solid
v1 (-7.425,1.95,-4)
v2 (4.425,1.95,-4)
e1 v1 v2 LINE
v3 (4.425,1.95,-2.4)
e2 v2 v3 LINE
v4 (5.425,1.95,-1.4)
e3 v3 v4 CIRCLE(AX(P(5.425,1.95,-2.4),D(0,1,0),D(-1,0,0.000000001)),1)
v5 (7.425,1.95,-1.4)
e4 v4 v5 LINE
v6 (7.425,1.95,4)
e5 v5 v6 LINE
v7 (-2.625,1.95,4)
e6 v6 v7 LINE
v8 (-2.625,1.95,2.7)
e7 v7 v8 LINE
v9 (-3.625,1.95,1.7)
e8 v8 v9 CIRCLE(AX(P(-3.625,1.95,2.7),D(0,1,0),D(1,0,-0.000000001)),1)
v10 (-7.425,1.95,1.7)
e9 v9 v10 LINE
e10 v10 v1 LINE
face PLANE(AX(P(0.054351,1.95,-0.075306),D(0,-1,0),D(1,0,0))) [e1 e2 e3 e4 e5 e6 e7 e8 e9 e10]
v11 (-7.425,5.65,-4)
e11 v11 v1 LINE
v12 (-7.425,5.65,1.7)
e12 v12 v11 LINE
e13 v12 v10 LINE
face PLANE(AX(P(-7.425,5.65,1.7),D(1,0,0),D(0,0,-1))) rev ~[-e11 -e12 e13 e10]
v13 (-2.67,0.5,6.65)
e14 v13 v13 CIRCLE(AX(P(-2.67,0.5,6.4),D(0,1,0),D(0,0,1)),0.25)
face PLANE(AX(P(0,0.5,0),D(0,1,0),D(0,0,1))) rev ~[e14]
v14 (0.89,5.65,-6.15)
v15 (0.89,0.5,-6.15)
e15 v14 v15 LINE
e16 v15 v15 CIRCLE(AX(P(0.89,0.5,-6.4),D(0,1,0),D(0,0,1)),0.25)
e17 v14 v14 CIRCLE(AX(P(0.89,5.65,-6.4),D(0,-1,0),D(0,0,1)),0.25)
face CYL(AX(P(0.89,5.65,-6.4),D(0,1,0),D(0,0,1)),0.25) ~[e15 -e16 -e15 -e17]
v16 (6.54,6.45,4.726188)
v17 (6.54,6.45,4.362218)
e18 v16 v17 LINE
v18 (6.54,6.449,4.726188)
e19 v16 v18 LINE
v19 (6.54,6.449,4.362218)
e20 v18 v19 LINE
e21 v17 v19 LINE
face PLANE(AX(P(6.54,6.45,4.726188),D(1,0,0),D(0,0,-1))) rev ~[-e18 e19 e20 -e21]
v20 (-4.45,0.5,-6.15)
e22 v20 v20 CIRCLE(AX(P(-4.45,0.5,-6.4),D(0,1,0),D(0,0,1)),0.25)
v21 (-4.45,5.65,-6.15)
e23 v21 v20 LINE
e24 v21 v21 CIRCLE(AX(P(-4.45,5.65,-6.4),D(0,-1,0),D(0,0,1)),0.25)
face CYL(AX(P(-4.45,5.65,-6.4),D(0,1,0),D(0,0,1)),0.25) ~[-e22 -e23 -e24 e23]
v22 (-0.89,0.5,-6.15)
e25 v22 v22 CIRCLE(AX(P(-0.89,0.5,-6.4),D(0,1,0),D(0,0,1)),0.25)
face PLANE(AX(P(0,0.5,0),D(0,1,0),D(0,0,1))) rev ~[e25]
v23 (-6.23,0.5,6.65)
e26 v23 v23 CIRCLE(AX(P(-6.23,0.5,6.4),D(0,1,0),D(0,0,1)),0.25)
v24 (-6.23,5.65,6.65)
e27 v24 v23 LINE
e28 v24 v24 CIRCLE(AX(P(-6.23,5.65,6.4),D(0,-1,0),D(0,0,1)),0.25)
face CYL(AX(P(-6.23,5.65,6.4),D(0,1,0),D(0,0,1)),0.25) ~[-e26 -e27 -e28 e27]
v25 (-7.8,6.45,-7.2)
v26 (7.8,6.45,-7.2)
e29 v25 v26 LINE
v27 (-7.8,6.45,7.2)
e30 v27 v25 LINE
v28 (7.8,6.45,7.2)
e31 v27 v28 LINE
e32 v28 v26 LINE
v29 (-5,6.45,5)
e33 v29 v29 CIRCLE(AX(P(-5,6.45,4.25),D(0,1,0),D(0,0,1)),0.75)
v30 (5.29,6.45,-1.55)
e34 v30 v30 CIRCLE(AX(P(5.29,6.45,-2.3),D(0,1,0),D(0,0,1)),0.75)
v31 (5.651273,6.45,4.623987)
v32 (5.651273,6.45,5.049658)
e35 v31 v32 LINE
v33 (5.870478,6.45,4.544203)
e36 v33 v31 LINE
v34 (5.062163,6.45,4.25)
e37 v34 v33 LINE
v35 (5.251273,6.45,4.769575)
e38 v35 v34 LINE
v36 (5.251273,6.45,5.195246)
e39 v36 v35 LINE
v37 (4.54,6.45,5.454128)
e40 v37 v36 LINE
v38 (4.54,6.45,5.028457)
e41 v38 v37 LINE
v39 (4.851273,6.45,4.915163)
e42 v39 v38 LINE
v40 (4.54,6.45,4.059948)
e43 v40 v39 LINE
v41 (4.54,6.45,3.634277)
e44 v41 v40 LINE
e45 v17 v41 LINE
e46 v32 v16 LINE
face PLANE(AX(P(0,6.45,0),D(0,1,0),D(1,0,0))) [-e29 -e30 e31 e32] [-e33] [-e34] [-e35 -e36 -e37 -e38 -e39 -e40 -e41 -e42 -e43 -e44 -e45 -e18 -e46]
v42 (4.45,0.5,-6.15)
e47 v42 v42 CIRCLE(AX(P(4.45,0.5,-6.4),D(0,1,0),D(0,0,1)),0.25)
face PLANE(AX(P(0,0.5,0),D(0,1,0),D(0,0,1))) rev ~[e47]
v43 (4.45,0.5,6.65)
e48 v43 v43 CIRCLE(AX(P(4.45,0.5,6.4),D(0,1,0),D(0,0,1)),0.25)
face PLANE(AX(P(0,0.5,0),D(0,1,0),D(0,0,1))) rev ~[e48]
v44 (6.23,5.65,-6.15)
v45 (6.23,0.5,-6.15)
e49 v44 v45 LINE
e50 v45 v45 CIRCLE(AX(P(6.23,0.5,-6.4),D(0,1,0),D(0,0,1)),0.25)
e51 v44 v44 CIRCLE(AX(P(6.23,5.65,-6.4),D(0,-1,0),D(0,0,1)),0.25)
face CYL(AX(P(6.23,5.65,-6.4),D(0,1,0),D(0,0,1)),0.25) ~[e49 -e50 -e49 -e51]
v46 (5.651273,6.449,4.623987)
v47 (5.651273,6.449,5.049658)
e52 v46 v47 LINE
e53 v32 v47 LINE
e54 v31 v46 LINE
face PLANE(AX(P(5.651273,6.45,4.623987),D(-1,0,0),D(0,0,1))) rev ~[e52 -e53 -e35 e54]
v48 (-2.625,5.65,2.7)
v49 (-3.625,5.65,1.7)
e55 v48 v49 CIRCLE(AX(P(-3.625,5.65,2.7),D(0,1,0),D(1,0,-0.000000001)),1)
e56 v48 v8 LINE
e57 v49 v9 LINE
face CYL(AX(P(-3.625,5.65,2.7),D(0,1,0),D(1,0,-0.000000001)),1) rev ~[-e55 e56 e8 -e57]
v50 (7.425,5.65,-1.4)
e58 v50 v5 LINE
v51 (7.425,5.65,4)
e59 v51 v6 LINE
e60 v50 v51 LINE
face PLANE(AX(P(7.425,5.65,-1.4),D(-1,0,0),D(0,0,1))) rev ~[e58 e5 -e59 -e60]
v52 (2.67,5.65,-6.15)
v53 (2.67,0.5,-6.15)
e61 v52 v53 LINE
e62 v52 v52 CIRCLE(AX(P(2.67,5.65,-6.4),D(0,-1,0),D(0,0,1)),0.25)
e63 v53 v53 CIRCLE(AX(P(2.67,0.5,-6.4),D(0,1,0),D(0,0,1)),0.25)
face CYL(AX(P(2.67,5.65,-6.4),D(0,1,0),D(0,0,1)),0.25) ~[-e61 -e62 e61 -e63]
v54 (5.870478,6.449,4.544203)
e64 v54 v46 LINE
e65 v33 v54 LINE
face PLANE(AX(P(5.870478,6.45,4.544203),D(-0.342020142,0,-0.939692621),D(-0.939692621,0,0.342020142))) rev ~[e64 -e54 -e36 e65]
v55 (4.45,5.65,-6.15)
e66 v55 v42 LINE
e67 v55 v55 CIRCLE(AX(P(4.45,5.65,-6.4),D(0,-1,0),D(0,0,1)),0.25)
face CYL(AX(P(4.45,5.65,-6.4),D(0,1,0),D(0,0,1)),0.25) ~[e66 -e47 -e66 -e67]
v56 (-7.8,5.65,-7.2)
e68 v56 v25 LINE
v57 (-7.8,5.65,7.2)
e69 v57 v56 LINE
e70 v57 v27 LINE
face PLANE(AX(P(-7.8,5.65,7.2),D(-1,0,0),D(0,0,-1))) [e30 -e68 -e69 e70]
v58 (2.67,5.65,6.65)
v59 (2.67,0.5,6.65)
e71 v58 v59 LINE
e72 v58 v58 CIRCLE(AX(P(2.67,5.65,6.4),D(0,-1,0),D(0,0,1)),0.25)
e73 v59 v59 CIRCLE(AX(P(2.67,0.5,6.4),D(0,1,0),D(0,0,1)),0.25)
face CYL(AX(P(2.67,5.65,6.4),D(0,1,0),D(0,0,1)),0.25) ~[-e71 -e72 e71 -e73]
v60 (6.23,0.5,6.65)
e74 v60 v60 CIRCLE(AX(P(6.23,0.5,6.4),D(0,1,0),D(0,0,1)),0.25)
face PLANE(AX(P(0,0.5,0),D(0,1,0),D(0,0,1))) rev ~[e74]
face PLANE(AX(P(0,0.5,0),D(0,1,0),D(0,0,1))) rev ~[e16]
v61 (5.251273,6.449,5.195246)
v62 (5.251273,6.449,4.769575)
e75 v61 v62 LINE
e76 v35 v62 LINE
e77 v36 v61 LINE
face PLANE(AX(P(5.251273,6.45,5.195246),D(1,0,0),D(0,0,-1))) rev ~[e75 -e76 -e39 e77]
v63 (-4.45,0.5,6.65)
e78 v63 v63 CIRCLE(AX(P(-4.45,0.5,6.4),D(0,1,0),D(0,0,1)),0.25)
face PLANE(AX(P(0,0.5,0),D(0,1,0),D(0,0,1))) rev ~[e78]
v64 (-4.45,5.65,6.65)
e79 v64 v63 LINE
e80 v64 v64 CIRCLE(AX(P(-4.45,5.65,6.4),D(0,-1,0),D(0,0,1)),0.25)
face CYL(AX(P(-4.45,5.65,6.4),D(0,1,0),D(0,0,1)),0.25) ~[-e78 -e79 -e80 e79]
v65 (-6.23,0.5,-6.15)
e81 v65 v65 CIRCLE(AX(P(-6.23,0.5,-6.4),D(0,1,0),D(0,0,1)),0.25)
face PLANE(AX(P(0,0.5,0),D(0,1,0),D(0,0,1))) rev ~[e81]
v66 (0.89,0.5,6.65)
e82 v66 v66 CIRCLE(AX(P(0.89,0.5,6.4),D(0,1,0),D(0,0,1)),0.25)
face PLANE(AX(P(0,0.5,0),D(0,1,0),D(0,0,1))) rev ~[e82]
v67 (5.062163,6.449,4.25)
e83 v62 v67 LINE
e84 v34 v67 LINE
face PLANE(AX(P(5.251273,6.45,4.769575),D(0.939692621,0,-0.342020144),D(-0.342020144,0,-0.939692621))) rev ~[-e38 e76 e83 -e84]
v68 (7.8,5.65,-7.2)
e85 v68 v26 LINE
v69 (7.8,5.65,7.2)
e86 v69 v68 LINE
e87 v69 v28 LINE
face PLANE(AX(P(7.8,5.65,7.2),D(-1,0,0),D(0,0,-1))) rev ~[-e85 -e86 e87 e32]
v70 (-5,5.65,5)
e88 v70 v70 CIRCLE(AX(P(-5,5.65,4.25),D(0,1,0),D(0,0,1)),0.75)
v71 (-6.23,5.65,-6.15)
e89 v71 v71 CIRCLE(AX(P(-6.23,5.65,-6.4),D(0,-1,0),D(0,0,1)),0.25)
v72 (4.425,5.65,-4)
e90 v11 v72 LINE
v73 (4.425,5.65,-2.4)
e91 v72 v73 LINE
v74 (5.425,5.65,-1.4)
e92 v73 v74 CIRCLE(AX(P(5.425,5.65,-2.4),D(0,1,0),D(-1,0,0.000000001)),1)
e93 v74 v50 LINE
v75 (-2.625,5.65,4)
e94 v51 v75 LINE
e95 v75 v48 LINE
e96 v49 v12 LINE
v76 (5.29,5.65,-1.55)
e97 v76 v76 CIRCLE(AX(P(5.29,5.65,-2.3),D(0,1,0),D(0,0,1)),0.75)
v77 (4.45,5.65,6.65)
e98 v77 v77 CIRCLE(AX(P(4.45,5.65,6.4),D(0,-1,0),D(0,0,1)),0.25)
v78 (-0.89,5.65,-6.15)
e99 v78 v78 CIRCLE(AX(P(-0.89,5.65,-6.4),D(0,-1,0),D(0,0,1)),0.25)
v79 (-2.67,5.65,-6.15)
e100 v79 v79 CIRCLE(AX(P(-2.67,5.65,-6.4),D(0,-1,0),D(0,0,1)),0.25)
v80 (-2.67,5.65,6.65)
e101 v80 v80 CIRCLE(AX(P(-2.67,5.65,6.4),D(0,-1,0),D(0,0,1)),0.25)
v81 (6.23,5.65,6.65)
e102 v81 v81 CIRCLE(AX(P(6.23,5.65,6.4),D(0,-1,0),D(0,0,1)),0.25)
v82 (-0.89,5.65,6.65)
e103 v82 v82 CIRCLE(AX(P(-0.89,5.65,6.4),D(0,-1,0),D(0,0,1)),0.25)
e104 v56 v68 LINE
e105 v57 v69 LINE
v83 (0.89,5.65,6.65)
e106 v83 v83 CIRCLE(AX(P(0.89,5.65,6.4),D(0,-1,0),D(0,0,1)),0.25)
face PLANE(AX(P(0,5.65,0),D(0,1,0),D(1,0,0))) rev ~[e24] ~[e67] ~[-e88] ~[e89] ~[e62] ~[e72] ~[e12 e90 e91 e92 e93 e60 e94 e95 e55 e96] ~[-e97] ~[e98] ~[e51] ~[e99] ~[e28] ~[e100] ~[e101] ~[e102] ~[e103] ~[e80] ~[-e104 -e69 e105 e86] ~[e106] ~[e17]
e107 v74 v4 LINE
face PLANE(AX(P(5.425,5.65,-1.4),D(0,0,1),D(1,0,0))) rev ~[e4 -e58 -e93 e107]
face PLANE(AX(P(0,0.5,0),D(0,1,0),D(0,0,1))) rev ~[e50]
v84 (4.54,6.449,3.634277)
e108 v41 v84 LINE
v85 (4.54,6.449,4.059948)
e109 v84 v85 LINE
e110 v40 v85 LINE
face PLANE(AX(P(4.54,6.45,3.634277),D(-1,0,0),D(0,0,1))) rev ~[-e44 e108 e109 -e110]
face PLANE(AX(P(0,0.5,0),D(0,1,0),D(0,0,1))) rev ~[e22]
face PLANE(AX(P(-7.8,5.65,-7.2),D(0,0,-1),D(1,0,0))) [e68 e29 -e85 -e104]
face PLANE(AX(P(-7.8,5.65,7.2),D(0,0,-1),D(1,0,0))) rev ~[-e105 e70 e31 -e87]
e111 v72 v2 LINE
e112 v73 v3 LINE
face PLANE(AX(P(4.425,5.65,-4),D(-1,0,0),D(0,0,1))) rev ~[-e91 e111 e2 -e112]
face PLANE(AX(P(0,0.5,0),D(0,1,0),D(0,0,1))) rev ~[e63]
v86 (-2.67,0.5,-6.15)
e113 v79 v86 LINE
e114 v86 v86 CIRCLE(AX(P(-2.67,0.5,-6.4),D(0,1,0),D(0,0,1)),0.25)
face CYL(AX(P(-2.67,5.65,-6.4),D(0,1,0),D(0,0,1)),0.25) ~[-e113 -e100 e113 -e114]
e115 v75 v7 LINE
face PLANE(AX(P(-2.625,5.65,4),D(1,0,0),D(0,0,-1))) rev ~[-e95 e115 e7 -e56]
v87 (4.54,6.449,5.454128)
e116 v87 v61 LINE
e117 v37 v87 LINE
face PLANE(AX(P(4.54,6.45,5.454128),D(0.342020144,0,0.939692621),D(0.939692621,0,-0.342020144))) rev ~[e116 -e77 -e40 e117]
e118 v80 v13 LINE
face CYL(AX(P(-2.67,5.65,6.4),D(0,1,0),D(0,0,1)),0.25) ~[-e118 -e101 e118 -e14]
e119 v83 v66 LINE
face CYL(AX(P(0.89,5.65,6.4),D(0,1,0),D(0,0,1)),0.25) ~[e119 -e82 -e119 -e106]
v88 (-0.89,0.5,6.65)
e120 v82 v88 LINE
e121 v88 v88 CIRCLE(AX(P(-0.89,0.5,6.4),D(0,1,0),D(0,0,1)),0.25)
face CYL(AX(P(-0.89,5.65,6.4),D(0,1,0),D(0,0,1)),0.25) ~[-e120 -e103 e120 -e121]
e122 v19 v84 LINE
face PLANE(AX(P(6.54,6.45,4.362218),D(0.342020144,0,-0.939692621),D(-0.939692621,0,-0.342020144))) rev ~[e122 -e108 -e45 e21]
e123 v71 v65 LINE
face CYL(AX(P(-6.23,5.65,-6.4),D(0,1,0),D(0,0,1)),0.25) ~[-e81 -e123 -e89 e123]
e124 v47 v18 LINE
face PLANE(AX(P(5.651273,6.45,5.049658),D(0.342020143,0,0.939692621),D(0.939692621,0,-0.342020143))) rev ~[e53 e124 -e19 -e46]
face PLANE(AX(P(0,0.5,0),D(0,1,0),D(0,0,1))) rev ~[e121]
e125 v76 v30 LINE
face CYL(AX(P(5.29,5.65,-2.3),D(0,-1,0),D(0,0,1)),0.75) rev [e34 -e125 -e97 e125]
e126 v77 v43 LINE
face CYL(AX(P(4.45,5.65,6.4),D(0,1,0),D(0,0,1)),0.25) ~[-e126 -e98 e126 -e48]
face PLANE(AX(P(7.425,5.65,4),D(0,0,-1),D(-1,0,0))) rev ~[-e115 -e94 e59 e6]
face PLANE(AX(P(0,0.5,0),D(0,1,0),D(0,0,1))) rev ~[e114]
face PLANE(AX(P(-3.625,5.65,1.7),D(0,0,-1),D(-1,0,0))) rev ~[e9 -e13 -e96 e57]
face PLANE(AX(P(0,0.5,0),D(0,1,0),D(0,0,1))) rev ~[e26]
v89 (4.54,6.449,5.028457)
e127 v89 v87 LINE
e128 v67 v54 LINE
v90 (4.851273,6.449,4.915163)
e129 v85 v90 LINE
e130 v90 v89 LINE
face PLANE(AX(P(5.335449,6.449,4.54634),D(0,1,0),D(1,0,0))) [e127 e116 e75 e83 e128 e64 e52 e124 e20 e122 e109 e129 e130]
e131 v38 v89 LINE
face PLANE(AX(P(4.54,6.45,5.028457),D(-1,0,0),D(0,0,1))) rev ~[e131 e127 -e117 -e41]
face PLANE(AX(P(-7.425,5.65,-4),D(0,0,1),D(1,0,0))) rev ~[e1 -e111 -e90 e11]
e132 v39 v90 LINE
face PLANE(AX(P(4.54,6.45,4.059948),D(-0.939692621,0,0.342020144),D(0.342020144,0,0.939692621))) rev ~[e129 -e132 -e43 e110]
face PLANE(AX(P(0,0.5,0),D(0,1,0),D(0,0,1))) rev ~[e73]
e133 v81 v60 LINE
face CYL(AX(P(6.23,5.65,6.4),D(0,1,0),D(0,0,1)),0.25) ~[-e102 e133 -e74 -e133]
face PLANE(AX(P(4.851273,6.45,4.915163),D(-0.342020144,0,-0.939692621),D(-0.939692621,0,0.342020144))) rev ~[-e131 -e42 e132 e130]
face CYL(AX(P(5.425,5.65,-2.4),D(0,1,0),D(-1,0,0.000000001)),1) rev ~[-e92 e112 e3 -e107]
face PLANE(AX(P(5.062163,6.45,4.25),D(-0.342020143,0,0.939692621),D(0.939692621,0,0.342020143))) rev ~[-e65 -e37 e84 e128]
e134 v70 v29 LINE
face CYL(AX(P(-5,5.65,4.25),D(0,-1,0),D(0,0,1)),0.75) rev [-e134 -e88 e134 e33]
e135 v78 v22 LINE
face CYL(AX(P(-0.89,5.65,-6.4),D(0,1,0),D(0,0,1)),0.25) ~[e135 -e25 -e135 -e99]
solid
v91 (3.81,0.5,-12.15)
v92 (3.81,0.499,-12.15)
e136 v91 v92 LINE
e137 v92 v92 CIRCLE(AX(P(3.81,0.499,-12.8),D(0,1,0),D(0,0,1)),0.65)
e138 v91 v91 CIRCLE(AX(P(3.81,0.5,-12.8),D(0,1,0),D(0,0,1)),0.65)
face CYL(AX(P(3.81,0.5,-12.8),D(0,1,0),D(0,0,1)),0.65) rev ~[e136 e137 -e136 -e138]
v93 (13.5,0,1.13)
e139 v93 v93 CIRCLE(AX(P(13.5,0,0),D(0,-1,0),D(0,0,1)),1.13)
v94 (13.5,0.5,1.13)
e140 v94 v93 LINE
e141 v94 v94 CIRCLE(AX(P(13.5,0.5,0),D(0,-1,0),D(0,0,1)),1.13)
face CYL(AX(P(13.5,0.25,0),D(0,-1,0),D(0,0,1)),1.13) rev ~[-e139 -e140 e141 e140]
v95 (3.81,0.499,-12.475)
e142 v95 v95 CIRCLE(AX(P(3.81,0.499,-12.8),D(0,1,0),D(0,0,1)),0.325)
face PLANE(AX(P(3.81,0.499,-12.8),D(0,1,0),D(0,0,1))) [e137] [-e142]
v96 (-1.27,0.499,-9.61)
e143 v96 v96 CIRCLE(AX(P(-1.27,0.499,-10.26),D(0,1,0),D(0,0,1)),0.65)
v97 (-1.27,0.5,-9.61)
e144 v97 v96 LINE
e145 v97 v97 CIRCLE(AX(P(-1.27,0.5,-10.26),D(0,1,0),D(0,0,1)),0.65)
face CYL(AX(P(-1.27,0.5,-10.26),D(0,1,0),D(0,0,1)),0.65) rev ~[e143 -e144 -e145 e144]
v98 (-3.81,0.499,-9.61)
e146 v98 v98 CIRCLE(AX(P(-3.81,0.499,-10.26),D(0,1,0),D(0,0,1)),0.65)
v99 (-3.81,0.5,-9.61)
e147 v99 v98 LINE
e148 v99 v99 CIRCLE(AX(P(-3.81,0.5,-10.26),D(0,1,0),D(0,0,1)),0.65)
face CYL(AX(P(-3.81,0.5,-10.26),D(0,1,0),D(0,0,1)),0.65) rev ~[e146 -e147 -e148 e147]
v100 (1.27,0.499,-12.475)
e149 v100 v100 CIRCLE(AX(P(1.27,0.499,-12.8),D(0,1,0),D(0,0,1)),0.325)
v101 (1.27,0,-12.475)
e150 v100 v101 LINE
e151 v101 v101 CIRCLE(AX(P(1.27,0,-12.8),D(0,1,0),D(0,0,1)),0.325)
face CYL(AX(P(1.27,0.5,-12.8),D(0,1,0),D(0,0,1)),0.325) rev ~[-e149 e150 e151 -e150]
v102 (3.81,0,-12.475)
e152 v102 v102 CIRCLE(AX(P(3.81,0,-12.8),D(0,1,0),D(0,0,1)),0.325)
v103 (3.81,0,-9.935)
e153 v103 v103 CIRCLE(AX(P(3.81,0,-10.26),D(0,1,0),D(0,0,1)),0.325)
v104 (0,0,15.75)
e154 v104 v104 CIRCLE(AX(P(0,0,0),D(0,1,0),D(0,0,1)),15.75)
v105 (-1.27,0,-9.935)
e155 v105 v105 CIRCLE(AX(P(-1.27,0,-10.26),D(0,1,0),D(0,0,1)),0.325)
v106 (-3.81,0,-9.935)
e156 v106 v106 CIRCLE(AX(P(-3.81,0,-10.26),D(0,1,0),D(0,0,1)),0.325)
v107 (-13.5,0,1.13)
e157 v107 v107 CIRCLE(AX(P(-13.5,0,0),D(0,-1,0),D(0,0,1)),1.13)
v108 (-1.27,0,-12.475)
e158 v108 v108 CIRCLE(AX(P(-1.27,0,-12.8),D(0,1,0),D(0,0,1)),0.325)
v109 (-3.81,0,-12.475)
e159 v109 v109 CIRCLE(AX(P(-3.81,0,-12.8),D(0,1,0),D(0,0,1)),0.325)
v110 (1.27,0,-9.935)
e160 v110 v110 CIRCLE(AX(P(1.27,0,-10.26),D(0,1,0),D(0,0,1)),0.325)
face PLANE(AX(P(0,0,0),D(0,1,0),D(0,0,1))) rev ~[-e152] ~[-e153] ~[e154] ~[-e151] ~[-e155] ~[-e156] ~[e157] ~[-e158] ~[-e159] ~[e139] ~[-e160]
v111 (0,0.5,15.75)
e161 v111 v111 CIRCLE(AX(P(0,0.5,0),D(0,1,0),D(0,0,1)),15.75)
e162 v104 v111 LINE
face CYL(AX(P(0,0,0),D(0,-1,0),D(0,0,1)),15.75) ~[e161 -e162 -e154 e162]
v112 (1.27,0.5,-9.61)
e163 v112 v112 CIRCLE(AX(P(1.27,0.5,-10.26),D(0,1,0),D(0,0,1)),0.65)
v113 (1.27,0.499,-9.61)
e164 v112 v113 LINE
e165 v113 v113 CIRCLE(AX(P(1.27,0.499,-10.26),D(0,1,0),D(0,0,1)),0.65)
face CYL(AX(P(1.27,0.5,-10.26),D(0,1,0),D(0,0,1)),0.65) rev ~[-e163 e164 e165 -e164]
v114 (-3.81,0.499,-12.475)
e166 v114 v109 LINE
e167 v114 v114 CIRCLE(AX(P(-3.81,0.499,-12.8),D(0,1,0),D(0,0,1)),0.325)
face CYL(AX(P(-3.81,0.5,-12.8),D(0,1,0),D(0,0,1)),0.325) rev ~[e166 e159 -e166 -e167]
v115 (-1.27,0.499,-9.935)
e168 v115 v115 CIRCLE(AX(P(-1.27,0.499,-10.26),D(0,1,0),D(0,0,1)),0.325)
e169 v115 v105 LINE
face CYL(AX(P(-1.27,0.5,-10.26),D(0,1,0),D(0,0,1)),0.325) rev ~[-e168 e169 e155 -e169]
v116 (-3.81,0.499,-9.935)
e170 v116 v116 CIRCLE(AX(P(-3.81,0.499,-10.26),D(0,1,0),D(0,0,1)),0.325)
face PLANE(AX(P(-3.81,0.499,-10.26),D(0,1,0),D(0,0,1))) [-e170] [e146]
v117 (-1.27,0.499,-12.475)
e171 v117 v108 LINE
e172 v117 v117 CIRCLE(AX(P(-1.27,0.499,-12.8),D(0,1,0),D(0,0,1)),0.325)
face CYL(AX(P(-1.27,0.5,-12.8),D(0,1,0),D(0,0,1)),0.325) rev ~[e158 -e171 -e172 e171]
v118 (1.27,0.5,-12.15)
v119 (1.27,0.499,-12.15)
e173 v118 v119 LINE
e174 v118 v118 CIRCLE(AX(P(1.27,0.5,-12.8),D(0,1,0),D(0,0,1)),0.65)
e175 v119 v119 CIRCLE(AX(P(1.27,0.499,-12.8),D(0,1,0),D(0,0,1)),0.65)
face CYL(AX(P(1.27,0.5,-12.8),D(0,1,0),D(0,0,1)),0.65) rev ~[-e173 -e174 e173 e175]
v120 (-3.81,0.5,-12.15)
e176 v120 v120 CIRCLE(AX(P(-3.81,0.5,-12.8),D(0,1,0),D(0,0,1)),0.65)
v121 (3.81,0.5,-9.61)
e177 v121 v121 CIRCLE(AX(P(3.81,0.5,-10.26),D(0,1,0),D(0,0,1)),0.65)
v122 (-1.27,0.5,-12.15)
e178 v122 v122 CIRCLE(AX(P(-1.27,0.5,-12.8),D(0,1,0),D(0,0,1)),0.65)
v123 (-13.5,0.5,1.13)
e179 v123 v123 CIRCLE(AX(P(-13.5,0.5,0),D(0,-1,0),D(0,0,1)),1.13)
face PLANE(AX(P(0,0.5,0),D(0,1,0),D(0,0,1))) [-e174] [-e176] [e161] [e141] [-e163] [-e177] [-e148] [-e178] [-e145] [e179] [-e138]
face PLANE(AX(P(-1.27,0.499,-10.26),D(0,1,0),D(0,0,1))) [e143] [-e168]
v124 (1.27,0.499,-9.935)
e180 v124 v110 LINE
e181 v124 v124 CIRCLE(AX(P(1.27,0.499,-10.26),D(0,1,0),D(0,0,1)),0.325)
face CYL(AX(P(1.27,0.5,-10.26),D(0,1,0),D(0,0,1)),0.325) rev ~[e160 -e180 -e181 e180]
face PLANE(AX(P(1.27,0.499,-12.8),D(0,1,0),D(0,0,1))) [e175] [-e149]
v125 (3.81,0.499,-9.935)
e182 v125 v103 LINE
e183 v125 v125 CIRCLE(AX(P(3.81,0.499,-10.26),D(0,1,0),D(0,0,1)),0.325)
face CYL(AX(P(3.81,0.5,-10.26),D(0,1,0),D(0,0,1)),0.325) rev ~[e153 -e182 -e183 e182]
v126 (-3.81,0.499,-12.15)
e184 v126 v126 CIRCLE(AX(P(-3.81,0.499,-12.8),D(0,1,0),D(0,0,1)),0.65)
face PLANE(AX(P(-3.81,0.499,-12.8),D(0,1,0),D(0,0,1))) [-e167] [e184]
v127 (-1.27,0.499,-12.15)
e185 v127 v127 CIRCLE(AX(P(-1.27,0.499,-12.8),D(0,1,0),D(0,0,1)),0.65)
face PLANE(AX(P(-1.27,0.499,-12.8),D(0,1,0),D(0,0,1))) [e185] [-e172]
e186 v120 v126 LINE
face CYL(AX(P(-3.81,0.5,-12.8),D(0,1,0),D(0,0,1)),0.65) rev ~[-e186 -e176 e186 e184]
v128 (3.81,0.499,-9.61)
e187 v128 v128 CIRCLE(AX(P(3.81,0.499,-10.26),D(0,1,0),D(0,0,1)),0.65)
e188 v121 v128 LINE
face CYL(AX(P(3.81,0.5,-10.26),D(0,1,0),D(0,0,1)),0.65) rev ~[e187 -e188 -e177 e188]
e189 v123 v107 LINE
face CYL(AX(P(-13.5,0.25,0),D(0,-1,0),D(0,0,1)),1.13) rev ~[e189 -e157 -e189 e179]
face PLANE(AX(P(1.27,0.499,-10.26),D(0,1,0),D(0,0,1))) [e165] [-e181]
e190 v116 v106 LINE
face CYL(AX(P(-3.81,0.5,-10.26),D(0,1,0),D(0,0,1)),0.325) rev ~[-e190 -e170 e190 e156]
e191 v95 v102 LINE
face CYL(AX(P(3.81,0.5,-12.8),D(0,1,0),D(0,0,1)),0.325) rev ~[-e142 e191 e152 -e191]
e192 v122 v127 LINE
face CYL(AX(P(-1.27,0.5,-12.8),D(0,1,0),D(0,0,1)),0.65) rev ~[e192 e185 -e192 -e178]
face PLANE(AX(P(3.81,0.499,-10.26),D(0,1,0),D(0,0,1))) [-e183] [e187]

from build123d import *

# Parameters (mm, degrees)
SKETCH1_R                      = 15.75
BOSS_EXTRUDE1_DEPTH            = 0.5
BOSS_EXTRUDE2_START            = 5.15
SKETCH2_W                      = 15.6
SKETCH2_H                      = 14.4
SKETCH2_R                      = 0.75
BOSS_EXTRUDE2_DEPTH            = 0.8
CUT_EXTRUDE1_DEPTH             = 0.001
BOSS_EXTRUDE3_DEPTH            = 3.7
BOSS_EXTRUDE4_REACH            = 24.979
SKETCH5_R                      = 0.25
SKETCH9_W                      = 1.130000026
SKETCH9_H                      = 0.5
F_2_CLEARANCE_HOLE1_AT_2_COUNT = 2
F_2_CLEARANCE_HOLE1_AT_2_PITCH = 27
SKETCH10_R                     = 0.325
CUT_EXTRUDE2_DEPTH             = 24.054880178
SKETCH11_R                     = 0.65
CUT_EXTRUDE3_DEPTH             = 0.001


with BuildPart() as part:
    # Sketch1 → Boss-Extrude1 (new body)
    with BuildSketch(Plane(origin=(0, 0, 0), x_dir=(1, 0, 0), z_dir=(0, 1, 0))):
        with Locations(Location((0, 0, 0), (0, 0, 270))):
            Circle(SKETCH1_R)
    extrude(amount=BOSS_EXTRUDE1_DEPTH)


with BuildPart() as body_2:
    # Sketch2 → Boss-Extrude2 (new body)
    with BuildSketch(Plane(origin=(0, 0.5, 0), x_dir=(1, 0, 0), z_dir=(0, 1, 0)).offset(BOSS_EXTRUDE2_START)):
        Rectangle(SKETCH2_W, SKETCH2_H)
        with Locations(Location((-5, -4.25, 0), (0, 0, 270))):
            Circle(SKETCH2_R, mode=Mode.SUBTRACT)
        with Locations(Location((5.29, 2.3, 0), (0, 0, 270))):
            Circle(SKETCH2_R, mode=Mode.SUBTRACT)
    extrude(amount=BOSS_EXTRUDE2_DEPTH)

    # Sketch3 → Cut-Extrude1 (cut)
    with BuildSketch(Plane(origin=(0, 6.45, 0), x_dir=(1, 0, 0), z_dir=(0, 1, 0))):
        Polygon((6.54, -4.362217601), (4.54, -3.634277132), (4.54, -4.059948241), (4.851272778, -4.915163169), (4.54, -5.028457195), (4.54, -5.454128304), (5.251272778, -5.195246184), (5.251272778, -4.769575075), (5.062162916, -4.25), (5.87047824, -4.544202718), (5.651272778, -4.623986981), (5.651272778, -5.04965809), (6.54, -4.726187835), align=None)
    extrude(amount=-CUT_EXTRUDE1_DEPTH, mode=Mode.SUBTRACT)

    # Sketch4 → Boss-Extrude3 (add)
    with BuildSketch(Plane.XZ.offset(-5.65)):
        with BuildLine():
            Line((7.425, -1.4), (7.425, 4))
            Line((7.425, 4), (-2.625, 4))
            Line((-2.625, 4), (-2.625, 2.7))
            ThreePointArc((-2.625, 2.7), (-2.917893219, 1.992893219), (-3.625, 1.7))
            Line((-3.625, 1.7), (-7.425, 1.7))
            Line((-7.425, 1.7), (-7.425, -4))
            Line((-7.425, -4), (4.425, -4))
            Line((4.425, -4), (4.425, -2.4))
            ThreePointArc((4.425, -2.4), (4.717893219, -1.692893219), (5.425, -1.4))
            Line((5.425, -1.4), (7.425, -1.4))
        make_face()
    extrude(amount=BOSS_EXTRUDE3_DEPTH)


    # Sketch5 → Boss-Extrude4 (add, up to next)
    with BuildSketch(Plane.XZ.offset(-5.65), mode=Mode.PRIVATE) as boss_extrude4_sk1:
        with Locations(Location((6.23, 6.4, 0), (0, 0, 90))):
            Circle(SKETCH5_R)
    boss_extrude4_tool1 = extrude(boss_extrude4_sk1.sketch, amount=BOSS_EXTRUDE4_REACH, mode=Mode.PRIVATE) - part.part
    # Sketch5 → Boss-Extrude4 (add, up to next)
    with BuildSketch(Plane.XZ.offset(-5.65), mode=Mode.PRIVATE) as boss_extrude4_sk2:
        with Locations(Location((6.23, -6.4, 0), (0, 0, 90))):
            Circle(SKETCH5_R)
    boss_extrude4_tool2 = extrude(boss_extrude4_sk2.sketch, amount=BOSS_EXTRUDE4_REACH, mode=Mode.PRIVATE) - part.part
    # Sketch5 → Boss-Extrude4 (add, up to next)
    with BuildSketch(Plane.XZ.offset(-5.65), mode=Mode.PRIVATE) as boss_extrude4_sk3:
        with Locations(Location((4.45, 6.4, 0), (0, 0, 90))):
            Circle(SKETCH5_R)
    boss_extrude4_tool3 = extrude(boss_extrude4_sk3.sketch, amount=BOSS_EXTRUDE4_REACH, mode=Mode.PRIVATE) - part.part
    # Sketch5 → Boss-Extrude4 (add, up to next)
    with BuildSketch(Plane.XZ.offset(-5.65), mode=Mode.PRIVATE) as boss_extrude4_sk4:
        with Locations(Location((4.45, -6.4, 0), (0, 0, 90))):
            Circle(SKETCH5_R)
    boss_extrude4_tool4 = extrude(boss_extrude4_sk4.sketch, amount=BOSS_EXTRUDE4_REACH, mode=Mode.PRIVATE) - part.part
    # Sketch5 → Boss-Extrude4 (add, up to next)
    with BuildSketch(Plane.XZ.offset(-5.65), mode=Mode.PRIVATE) as boss_extrude4_sk5:
        with Locations(Location((2.67, 6.4, 0), (0, 0, 90))):
            Circle(SKETCH5_R)
    boss_extrude4_tool5 = extrude(boss_extrude4_sk5.sketch, amount=BOSS_EXTRUDE4_REACH, mode=Mode.PRIVATE) - part.part
    # Sketch5 → Boss-Extrude4 (add, up to next)
    with BuildSketch(Plane.XZ.offset(-5.65), mode=Mode.PRIVATE) as boss_extrude4_sk6:
        with Locations(Location((2.67, -6.4, 0), (0, 0, 90))):
            Circle(SKETCH5_R)
    boss_extrude4_tool6 = extrude(boss_extrude4_sk6.sketch, amount=BOSS_EXTRUDE4_REACH, mode=Mode.PRIVATE) - part.part
    # Sketch5 → Boss-Extrude4 (add, up to next)
    with BuildSketch(Plane.XZ.offset(-5.65), mode=Mode.PRIVATE) as boss_extrude4_sk7:
        with Locations(Location((0.89, 6.4, 0), (0, 0, 90))):
            Circle(SKETCH5_R)
    boss_extrude4_tool7 = extrude(boss_extrude4_sk7.sketch, amount=BOSS_EXTRUDE4_REACH, mode=Mode.PRIVATE) - part.part
    # Sketch5 → Boss-Extrude4 (add, up to next)
    with BuildSketch(Plane.XZ.offset(-5.65), mode=Mode.PRIVATE) as boss_extrude4_sk8:
        with Locations(Location((0.89, -6.4, 0), (0, 0, 90))):
            Circle(SKETCH5_R)
    boss_extrude4_tool8 = extrude(boss_extrude4_sk8.sketch, amount=BOSS_EXTRUDE4_REACH, mode=Mode.PRIVATE) - part.part
    # Sketch5 → Boss-Extrude4 (add, up to next)
    with BuildSketch(Plane.XZ.offset(-5.65), mode=Mode.PRIVATE) as boss_extrude4_sk9:
        with Locations(Location((-0.89, 6.4, 0), (0, 0, 90))):
            Circle(SKETCH5_R)
    boss_extrude4_tool9 = extrude(boss_extrude4_sk9.sketch, amount=BOSS_EXTRUDE4_REACH, mode=Mode.PRIVATE) - part.part
    # Sketch5 → Boss-Extrude4 (add, up to next)
    with BuildSketch(Plane.XZ.offset(-5.65), mode=Mode.PRIVATE) as boss_extrude4_sk10:
        with Locations(Location((-0.89, -6.4, 0), (0, 0, 90))):
            Circle(SKETCH5_R)
    boss_extrude4_tool10 = extrude(boss_extrude4_sk10.sketch, amount=BOSS_EXTRUDE4_REACH, mode=Mode.PRIVATE) - part.part
    # Sketch5 → Boss-Extrude4 (add, up to next)
    with BuildSketch(Plane.XZ.offset(-5.65), mode=Mode.PRIVATE) as boss_extrude4_sk11:
        with Locations(Location((-2.67, 6.4, 0), (0, 0, 90))):
            Circle(SKETCH5_R)
    boss_extrude4_tool11 = extrude(boss_extrude4_sk11.sketch, amount=BOSS_EXTRUDE4_REACH, mode=Mode.PRIVATE) - part.part
    # Sketch5 → Boss-Extrude4 (add, up to next)
    with BuildSketch(Plane.XZ.offset(-5.65), mode=Mode.PRIVATE) as boss_extrude4_sk12:
        with Locations(Location((-2.67, -6.4, 0), (0, 0, 90))):
            Circle(SKETCH5_R)
    boss_extrude4_tool12 = extrude(boss_extrude4_sk12.sketch, amount=BOSS_EXTRUDE4_REACH, mode=Mode.PRIVATE) - part.part
    # Sketch5 → Boss-Extrude4 (add, up to next)
    with BuildSketch(Plane.XZ.offset(-5.65), mode=Mode.PRIVATE) as boss_extrude4_sk13:
        with Locations(Location((-4.45, 6.4, 0), (0, 0, 90))):
            Circle(SKETCH5_R)
    boss_extrude4_tool13 = extrude(boss_extrude4_sk13.sketch, amount=BOSS_EXTRUDE4_REACH, mode=Mode.PRIVATE) - part.part
    # Sketch5 → Boss-Extrude4 (add, up to next)
    with BuildSketch(Plane.XZ.offset(-5.65), mode=Mode.PRIVATE) as boss_extrude4_sk14:
        with Locations(Location((-4.45, -6.4, 0), (0, 0, 90))):
            Circle(SKETCH5_R)
    boss_extrude4_tool14 = extrude(boss_extrude4_sk14.sketch, amount=BOSS_EXTRUDE4_REACH, mode=Mode.PRIVATE) - part.part
    # Sketch5 → Boss-Extrude4 (add, up to next)
    with BuildSketch(Plane.XZ.offset(-5.65), mode=Mode.PRIVATE) as boss_extrude4_sk15:
        with Locations(Location((-6.23, 6.4, 0), (0, 0, 90))):
            Circle(SKETCH5_R)
    boss_extrude4_tool15 = extrude(boss_extrude4_sk15.sketch, amount=BOSS_EXTRUDE4_REACH, mode=Mode.PRIVATE) - part.part
    # Sketch5 → Boss-Extrude4 (add, up to next)
    with BuildSketch(Plane.XZ.offset(-5.65), mode=Mode.PRIVATE) as boss_extrude4_sk16:
        with Locations(Location((-6.23, -6.4, 0), (0, 0, 90))):
            Circle(SKETCH5_R)
    boss_extrude4_tool16 = extrude(boss_extrude4_sk16.sketch, amount=BOSS_EXTRUDE4_REACH, mode=Mode.PRIVATE) - part.part
    add(boss_extrude4_tool1.solids().sort_by_distance((6.23, 5.65, 6.4))[0])
    add(boss_extrude4_tool2.solids().sort_by_distance((6.23, 5.65, -6.4))[0])
    add(boss_extrude4_tool3.solids().sort_by_distance((4.45, 5.65, 6.4))[0])
    add(boss_extrude4_tool4.solids().sort_by_distance((4.45, 5.65, -6.4))[0])
    add(boss_extrude4_tool5.solids().sort_by_distance((2.67, 5.65, 6.4))[0])
    add(boss_extrude4_tool6.solids().sort_by_distance((2.67, 5.65, -6.4))[0])
    add(boss_extrude4_tool7.solids().sort_by_distance((0.89, 5.65, 6.4))[0])
    add(boss_extrude4_tool8.solids().sort_by_distance((0.89, 5.65, -6.4))[0])
    add(boss_extrude4_tool9.solids().sort_by_distance((-0.89, 5.65, 6.4))[0])
    add(boss_extrude4_tool10.solids().sort_by_distance((-0.89, 5.65, -6.4))[0])
    add(boss_extrude4_tool11.solids().sort_by_distance((-2.67, 5.65, 6.4))[0])
    add(boss_extrude4_tool12.solids().sort_by_distance((-2.67, 5.65, -6.4))[0])
    add(boss_extrude4_tool13.solids().sort_by_distance((-4.45, 5.65, 6.4))[0])
    add(boss_extrude4_tool14.solids().sort_by_distance((-4.45, 5.65, -6.4))[0])
    add(boss_extrude4_tool15.solids().sort_by_distance((-6.23, 5.65, 6.4))[0])
    add(boss_extrude4_tool16.solids().sort_by_distance((-6.23, 5.65, -6.4))[0])


with BuildPart() as part_1:
    add(part.part)

    # Sketch9 → #2 Clearance Hole1 (revolve, cut)
    with BuildSketch(Plane(origin=(13.5, 0.5, 0), x_dir=(0, 0, 1), z_dir=(1, 0, 0))):
        with Locations((0.565000013, 0.25)):
            Rectangle(SKETCH9_W, SKETCH9_H)
    f_2_clearance_hole1 = revolve(axis=Axis((13.5, 6.85, 0), (0, -1, 0)), mode=Mode.SUBTRACT)

    # #2 Clearance Hole1 at 2: #2 Clearance Hole1 ×2
    with Locations(*[(-i * F_2_CLEARANCE_HOLE1_AT_2_PITCH, 0, 0) for i in range(1, F_2_CLEARANCE_HOLE1_AT_2_COUNT)]):
        add(f_2_clearance_hole1, mode=Mode.SUBTRACT)

    # Sketch10 → Cut-Extrude2 (cut, through all)
    with BuildSketch(Plane(origin=(0, 0.5, 0), x_dir=(1, 0, 0), z_dir=(0, 1, 0))):
        with Locations(Location((3.81, 12.8, 0), (0, 0, 270))):
            Circle(SKETCH10_R)
        with Locations(Location((1.27, 12.8, 0), (0, 0, 270))):
            Circle(SKETCH10_R)
        with Locations(Location((-1.27, 12.8, 0), (0, 0, 270))):
            Circle(SKETCH10_R)
        with Locations(Location((-3.81, 12.8, 0), (0, 0, 270))):
            Circle(SKETCH10_R)
        with Locations(Location((1.27, 10.26, 0), (0, 0, 270))):
            Circle(SKETCH10_R)
        with Locations(Location((-1.27, 10.26, 0), (0, 0, 270))):
            Circle(SKETCH10_R)
        with Locations(Location((-3.81, 10.26, 0), (0, 0, 270))):
            Circle(SKETCH10_R)
        with Locations(Location((3.81, 10.26, 0), (0, 0, 270))):
            Circle(SKETCH10_R)
    extrude(amount=-CUT_EXTRUDE2_DEPTH, mode=Mode.SUBTRACT)

    # Sketch11 → Cut-Extrude3 (cut)
    with BuildSketch(Plane(origin=(0, 0.5, 0), x_dir=(1, 0, 0), z_dir=(0, 1, 0))):
        with Locations(Location((3.81, 12.8, 0), (0, 0, 270))):
            Circle(SKETCH11_R)
        with Locations(Location((1.27, 12.8, 0), (0, 0, 270))):
            Circle(SKETCH11_R)
        with Locations(Location((-1.27, 12.8, 0), (0, 0, 270))):
            Circle(SKETCH11_R)
        with Locations(Location((-3.81, 12.8, 0), (0, 0, 270))):
            Circle(SKETCH11_R)
        with Locations(Location((1.27, 10.26, 0), (0, 0, 270))):
            Circle(SKETCH11_R)
        with Locations(Location((-1.27, 10.26, 0), (0, 0, 270))):
            Circle(SKETCH11_R)
        with Locations(Location((-3.81, 10.26, 0), (0, 0, 270))):
            Circle(SKETCH11_R)
        with Locations(Location((3.81, 10.26, 0), (0, 0, 270))):
            Circle(SKETCH11_R)
    extrude(amount=-CUT_EXTRUDE3_DEPTH, mode=Mode.SUBTRACT)


solid = Compound([body_2.part, part_1.part])
